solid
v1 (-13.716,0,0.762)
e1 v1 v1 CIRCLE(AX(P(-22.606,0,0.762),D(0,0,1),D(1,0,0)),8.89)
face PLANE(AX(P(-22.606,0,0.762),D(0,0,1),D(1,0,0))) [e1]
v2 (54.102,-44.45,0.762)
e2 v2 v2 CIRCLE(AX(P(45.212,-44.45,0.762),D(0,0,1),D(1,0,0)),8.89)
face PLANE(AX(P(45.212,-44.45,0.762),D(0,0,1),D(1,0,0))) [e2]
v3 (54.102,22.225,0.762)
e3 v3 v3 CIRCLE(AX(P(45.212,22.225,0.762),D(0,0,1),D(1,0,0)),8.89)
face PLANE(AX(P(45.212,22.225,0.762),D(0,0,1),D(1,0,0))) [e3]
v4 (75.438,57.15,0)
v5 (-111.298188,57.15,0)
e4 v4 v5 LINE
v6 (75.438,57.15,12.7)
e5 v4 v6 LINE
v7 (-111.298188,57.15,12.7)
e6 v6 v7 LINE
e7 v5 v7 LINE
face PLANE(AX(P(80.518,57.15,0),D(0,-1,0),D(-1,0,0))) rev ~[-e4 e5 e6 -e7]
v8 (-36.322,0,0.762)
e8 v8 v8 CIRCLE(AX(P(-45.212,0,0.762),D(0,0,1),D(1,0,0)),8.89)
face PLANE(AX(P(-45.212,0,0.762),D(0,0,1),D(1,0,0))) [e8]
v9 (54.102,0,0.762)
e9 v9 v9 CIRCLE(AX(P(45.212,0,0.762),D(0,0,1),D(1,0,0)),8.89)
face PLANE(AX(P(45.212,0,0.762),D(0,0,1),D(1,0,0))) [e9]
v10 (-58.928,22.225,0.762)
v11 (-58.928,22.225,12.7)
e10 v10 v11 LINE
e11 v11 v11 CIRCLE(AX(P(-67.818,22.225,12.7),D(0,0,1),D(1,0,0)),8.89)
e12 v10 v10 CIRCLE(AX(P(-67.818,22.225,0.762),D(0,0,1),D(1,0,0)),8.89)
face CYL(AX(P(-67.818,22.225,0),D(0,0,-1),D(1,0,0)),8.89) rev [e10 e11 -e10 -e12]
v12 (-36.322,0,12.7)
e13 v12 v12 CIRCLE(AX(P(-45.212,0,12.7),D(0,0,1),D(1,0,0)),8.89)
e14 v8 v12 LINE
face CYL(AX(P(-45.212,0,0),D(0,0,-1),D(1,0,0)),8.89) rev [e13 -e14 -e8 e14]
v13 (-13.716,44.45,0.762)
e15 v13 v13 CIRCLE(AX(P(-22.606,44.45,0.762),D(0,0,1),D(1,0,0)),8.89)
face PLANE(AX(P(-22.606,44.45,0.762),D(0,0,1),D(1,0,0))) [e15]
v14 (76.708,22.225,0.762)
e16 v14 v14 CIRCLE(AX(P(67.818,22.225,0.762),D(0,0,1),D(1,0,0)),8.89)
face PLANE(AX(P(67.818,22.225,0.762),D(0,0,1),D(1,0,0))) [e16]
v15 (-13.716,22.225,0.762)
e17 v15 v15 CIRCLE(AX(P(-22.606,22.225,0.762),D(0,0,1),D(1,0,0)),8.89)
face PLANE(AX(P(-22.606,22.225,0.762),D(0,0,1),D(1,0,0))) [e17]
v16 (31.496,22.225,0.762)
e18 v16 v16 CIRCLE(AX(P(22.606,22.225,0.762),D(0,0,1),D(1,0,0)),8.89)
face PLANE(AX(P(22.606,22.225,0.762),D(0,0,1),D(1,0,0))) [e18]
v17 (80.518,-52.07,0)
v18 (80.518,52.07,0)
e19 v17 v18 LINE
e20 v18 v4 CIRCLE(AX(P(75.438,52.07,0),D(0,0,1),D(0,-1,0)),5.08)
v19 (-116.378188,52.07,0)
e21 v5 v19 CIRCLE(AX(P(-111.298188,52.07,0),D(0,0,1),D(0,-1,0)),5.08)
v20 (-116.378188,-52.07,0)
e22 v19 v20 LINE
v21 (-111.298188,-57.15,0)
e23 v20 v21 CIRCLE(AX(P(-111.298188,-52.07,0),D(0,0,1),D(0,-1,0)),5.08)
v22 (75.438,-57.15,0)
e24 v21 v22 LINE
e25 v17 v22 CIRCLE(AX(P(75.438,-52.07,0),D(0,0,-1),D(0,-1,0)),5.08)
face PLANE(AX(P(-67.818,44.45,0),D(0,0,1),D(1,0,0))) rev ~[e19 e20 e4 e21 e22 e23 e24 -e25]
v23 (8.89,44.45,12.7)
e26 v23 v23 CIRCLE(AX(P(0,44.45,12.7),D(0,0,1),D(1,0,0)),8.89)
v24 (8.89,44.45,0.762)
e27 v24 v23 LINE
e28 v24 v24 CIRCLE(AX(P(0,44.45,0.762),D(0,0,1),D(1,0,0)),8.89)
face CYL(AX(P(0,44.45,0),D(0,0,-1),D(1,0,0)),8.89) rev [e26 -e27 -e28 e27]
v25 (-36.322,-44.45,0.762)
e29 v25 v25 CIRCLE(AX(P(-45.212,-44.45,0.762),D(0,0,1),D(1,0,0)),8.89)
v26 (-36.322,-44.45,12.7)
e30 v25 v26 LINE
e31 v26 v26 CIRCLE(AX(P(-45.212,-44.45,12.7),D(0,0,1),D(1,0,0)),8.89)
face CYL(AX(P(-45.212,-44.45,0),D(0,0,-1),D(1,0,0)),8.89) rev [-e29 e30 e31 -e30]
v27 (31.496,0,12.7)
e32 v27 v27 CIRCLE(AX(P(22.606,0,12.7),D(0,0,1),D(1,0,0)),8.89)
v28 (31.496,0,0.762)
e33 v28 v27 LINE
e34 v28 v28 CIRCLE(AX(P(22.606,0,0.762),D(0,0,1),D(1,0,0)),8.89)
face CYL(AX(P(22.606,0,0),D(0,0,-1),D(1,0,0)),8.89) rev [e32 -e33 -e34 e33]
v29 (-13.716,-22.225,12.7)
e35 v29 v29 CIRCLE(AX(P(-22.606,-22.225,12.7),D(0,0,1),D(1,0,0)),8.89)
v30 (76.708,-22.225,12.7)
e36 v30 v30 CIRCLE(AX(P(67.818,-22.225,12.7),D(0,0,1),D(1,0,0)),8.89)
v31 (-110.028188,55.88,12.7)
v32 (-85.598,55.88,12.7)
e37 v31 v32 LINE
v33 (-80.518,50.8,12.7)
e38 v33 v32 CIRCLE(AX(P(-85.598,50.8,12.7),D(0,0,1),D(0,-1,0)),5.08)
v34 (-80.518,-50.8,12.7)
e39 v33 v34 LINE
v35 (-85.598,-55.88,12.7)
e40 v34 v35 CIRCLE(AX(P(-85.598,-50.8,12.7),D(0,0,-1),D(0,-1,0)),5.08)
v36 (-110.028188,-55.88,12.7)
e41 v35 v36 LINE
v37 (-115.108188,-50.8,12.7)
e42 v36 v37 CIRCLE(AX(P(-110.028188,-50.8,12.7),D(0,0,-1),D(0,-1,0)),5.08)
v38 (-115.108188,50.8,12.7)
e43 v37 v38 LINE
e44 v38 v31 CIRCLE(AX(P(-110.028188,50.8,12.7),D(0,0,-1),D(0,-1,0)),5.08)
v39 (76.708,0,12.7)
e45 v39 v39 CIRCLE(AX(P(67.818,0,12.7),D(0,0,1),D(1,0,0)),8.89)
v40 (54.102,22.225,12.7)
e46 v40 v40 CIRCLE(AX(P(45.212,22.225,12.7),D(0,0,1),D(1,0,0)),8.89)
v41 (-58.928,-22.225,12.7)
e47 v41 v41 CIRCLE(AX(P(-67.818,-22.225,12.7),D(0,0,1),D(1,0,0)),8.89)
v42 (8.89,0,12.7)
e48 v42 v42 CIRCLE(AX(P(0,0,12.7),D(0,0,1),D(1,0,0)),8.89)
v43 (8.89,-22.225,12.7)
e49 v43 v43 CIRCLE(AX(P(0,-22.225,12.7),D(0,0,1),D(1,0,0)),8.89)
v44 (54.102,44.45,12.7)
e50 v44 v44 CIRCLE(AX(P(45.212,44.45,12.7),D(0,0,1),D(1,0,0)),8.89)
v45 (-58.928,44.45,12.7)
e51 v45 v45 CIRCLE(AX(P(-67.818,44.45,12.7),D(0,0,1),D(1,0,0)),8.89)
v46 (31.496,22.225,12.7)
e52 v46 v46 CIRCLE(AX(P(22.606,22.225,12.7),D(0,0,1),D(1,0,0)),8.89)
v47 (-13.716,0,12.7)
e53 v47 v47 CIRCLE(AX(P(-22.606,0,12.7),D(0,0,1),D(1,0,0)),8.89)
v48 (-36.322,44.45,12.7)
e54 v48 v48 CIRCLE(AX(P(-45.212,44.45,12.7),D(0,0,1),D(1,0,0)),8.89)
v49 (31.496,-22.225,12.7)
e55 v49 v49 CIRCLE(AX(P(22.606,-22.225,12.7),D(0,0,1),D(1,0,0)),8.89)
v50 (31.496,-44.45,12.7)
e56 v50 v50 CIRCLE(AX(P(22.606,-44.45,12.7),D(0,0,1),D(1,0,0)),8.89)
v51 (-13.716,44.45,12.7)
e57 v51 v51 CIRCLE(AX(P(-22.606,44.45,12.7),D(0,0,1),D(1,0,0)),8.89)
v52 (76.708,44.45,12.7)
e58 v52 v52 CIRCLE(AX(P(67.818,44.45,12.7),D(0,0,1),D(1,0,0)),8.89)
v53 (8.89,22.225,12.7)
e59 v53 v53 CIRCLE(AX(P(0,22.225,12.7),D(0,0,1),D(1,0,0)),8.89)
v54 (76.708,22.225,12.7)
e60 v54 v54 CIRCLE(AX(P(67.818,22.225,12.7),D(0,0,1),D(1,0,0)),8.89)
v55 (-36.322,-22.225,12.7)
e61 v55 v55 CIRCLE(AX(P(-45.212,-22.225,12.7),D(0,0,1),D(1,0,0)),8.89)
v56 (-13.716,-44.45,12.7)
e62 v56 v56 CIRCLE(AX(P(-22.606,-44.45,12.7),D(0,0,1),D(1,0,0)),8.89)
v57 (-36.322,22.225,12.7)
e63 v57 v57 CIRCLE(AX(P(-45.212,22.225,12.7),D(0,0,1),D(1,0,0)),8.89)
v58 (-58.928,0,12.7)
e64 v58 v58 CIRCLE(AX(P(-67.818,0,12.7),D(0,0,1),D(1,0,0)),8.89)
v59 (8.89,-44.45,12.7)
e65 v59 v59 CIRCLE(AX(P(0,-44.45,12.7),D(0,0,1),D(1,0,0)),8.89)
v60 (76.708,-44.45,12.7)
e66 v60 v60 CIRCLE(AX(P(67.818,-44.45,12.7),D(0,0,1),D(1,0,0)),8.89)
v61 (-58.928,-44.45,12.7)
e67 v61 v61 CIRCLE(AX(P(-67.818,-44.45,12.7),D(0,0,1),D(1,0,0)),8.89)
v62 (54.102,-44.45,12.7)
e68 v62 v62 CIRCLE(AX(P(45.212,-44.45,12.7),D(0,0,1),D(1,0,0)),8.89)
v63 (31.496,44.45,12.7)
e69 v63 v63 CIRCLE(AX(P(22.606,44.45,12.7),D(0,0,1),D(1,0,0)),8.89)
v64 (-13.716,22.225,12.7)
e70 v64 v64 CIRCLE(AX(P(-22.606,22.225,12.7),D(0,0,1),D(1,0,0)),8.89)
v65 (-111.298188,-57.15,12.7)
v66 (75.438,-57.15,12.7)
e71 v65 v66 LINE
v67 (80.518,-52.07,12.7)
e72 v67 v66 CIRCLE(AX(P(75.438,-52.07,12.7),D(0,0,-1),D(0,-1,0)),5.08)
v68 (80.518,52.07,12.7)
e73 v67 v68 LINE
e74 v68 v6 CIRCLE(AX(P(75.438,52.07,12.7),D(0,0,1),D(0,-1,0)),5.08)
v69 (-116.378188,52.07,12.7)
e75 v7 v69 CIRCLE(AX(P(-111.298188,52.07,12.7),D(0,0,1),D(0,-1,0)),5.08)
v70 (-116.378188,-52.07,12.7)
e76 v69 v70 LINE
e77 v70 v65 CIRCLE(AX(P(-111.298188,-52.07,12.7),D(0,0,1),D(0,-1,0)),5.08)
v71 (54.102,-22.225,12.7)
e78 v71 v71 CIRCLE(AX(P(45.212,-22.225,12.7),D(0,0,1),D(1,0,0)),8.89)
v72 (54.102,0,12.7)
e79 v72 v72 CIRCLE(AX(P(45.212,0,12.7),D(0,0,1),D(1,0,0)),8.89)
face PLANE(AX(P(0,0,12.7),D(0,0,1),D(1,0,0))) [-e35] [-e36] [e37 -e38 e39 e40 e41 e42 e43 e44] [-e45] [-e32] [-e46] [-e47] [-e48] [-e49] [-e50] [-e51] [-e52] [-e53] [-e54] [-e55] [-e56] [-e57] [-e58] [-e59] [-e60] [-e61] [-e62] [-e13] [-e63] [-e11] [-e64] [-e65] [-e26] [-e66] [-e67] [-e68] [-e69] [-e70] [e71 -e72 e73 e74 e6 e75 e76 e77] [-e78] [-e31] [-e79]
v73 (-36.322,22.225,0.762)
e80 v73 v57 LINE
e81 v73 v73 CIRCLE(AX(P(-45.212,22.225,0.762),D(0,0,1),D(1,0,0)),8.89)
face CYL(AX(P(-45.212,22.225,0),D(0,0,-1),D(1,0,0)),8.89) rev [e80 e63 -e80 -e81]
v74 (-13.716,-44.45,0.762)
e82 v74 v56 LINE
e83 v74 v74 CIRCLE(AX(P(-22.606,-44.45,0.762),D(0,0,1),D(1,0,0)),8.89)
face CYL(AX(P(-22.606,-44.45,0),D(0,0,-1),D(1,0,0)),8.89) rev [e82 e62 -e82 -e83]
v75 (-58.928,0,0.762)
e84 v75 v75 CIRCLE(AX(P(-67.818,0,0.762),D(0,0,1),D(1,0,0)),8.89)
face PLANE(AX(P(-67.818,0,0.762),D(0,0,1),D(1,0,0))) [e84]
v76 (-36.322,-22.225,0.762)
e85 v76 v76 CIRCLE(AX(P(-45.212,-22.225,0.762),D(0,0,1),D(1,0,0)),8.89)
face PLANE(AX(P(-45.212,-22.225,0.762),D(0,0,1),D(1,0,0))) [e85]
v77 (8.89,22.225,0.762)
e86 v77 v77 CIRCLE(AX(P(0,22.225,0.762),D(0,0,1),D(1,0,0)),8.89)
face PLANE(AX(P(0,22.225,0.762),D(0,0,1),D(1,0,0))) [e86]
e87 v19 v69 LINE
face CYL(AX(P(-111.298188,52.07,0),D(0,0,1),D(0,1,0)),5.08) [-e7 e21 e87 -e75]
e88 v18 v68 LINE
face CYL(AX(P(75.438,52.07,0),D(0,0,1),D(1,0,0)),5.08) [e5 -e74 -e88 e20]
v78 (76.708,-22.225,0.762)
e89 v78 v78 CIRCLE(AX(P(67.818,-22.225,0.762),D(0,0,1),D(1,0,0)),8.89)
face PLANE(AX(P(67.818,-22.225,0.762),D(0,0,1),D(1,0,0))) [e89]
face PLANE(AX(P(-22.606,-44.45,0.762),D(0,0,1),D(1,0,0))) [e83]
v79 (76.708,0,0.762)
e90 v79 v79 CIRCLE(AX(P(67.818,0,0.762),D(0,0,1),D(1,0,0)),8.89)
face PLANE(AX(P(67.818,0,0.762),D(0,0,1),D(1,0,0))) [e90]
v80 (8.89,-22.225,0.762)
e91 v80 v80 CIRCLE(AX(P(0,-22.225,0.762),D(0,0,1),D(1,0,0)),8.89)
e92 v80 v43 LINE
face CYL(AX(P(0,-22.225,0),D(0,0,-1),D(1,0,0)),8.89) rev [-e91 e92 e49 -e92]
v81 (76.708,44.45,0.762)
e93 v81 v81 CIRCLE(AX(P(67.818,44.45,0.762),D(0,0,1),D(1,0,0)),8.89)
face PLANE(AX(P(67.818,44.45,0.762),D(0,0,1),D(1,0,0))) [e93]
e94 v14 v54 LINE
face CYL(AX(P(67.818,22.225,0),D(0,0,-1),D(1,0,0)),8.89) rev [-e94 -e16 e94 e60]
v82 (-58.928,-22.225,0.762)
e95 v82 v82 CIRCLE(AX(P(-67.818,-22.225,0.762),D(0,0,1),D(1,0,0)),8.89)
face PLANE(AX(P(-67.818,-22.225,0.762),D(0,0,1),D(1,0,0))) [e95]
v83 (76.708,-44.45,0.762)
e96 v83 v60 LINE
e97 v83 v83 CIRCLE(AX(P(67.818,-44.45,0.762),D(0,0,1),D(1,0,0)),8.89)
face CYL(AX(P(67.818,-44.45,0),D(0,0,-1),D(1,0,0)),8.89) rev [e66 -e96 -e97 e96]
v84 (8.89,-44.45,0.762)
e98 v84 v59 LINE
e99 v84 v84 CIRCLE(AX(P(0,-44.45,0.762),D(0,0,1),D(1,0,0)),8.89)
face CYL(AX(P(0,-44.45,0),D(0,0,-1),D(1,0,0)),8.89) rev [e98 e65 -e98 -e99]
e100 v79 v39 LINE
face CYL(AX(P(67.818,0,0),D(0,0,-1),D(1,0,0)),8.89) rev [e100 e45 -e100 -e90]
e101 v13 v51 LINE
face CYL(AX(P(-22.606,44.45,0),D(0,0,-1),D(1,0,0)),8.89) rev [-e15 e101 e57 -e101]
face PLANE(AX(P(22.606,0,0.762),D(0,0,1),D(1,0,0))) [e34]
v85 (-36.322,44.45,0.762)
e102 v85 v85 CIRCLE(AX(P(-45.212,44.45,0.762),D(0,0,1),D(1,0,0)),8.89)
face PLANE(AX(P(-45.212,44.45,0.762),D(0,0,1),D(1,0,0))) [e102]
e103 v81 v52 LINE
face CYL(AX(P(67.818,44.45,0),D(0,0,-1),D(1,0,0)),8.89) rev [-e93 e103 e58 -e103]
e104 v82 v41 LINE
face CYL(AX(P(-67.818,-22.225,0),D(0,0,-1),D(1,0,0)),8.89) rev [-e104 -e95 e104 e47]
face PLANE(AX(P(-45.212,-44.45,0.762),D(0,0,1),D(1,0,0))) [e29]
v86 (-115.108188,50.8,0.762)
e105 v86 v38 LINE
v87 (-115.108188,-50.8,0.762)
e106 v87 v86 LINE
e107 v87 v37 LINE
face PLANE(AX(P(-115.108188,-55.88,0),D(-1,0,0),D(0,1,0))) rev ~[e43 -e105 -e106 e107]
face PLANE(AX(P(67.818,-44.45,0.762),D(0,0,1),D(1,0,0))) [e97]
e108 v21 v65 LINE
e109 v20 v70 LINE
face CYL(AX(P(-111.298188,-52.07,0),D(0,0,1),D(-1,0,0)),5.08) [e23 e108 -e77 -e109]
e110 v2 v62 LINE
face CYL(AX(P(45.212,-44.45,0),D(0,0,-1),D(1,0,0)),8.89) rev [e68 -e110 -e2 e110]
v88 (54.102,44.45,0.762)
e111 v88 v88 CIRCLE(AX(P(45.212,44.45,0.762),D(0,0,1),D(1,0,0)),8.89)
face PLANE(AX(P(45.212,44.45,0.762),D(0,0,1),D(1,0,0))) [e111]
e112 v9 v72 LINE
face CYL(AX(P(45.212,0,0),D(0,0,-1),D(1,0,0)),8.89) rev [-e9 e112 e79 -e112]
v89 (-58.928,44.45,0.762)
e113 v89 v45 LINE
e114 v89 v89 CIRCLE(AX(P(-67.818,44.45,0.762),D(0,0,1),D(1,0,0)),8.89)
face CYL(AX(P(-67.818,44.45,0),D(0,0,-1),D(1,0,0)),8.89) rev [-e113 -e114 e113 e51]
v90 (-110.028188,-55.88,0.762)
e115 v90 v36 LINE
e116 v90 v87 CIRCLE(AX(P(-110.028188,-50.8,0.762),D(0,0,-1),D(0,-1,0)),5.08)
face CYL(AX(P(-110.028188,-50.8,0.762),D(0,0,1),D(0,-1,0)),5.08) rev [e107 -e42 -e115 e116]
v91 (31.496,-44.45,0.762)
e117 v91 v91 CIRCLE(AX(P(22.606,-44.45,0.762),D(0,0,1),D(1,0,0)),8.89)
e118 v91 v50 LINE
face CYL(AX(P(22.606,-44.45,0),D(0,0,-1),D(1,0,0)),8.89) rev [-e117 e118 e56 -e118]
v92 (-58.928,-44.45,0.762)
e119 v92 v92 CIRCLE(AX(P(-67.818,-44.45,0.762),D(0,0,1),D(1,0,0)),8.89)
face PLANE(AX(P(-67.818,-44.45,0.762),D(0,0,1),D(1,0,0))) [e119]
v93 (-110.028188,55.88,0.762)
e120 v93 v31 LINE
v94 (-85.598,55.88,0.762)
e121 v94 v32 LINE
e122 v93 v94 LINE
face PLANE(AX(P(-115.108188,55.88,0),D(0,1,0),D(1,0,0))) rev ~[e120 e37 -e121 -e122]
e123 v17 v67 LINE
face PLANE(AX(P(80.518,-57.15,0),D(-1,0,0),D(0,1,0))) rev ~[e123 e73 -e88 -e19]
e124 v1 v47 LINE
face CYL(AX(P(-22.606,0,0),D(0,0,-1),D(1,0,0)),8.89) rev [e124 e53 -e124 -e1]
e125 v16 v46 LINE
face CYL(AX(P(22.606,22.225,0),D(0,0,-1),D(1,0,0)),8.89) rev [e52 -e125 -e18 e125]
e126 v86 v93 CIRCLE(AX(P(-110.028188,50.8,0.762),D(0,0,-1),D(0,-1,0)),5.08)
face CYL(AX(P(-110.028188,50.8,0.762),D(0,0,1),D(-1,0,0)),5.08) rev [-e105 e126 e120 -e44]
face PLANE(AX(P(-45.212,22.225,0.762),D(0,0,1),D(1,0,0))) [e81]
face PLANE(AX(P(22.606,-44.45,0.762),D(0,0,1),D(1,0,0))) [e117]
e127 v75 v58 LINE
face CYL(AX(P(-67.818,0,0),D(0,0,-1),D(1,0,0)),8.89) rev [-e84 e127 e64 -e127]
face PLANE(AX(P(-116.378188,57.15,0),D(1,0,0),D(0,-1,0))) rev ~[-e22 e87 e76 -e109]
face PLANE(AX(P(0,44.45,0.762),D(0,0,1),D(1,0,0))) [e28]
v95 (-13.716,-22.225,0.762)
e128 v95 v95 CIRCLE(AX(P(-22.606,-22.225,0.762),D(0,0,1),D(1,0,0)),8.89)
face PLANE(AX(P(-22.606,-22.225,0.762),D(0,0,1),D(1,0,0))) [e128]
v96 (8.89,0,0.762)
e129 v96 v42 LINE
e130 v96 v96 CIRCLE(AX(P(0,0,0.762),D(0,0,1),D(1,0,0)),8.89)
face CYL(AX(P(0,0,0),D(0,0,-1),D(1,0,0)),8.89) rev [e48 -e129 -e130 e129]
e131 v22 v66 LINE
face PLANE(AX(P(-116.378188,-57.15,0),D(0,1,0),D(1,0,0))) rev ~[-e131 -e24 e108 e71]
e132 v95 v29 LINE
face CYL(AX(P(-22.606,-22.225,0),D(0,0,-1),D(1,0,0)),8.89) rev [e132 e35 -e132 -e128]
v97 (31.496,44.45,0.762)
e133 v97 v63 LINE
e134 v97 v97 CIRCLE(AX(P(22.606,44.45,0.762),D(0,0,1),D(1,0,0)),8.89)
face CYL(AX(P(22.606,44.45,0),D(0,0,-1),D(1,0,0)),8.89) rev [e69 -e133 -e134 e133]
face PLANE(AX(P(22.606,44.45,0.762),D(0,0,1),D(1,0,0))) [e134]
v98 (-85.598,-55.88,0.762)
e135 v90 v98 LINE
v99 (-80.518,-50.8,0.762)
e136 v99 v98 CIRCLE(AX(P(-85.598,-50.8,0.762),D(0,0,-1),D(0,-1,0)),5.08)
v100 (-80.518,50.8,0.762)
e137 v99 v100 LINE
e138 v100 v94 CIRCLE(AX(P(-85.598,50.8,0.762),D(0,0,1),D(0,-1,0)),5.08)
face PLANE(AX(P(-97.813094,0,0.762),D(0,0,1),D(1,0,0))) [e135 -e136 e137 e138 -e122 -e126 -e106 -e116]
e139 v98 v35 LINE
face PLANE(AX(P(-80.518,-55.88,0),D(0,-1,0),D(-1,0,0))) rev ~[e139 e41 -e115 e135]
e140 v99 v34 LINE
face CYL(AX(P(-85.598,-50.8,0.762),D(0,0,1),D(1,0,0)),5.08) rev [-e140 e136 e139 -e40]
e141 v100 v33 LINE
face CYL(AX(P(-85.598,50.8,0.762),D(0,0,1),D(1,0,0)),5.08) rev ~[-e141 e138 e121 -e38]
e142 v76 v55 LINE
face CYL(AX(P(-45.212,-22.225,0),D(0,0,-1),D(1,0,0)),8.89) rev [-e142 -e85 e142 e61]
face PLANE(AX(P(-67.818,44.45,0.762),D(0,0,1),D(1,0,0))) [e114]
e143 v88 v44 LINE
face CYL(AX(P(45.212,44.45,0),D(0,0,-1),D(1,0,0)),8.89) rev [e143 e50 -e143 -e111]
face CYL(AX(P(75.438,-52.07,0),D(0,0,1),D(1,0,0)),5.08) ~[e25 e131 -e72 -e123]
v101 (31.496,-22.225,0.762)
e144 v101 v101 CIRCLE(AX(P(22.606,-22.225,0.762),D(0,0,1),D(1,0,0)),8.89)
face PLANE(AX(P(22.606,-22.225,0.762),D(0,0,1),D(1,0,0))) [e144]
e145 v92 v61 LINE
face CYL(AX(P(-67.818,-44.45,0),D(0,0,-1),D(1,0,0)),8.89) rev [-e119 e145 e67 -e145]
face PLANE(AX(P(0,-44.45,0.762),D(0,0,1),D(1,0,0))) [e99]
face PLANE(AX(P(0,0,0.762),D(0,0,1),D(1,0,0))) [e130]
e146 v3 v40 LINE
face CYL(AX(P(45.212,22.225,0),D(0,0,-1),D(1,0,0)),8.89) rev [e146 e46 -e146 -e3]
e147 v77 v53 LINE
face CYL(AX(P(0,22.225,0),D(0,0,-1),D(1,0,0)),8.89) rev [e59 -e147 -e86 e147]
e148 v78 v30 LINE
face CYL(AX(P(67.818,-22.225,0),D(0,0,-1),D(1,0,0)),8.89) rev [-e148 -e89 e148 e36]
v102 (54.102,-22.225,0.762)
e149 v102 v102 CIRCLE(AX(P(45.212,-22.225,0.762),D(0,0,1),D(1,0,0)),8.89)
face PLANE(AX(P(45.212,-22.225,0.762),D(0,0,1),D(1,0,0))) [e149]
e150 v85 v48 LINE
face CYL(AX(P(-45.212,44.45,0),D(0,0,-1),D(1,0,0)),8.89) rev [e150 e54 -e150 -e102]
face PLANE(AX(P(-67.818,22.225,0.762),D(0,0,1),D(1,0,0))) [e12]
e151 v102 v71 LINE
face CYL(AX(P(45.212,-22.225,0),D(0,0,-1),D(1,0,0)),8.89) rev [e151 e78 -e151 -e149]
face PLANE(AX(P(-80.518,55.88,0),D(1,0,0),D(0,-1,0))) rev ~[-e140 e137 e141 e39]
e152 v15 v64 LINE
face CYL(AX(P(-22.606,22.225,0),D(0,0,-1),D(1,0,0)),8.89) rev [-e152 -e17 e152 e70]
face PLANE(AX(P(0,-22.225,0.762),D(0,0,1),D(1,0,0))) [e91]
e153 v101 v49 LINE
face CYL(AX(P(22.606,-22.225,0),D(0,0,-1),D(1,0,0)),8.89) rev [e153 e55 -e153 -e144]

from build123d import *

# Parameters (mm, degrees)
F0_R     = 8.89
F1_DEPTH = 12.7
F0_W     = 34.590188
F0_H     = 111.76
F2_DEPTH = 0.762
F3_R     = 5.08


with BuildPart() as f1:
    # F0 (on Top) → F1 (new body)
    with BuildSketch(Plane.XY):
        Polygon((80.518, -57.15), (80.518, 57.15), (-80.518, 57.15), (-80.518, 55.88), (-80.518, -55.88), (-80.518, -57.15), align=None)
        with Locations((-67.818, -44.45)):
            Circle(F0_R, mode=Mode.SUBTRACT)
        with Locations((-45.212, -44.45)):
            Circle(F0_R, mode=Mode.SUBTRACT)
        with Locations((-22.606, -44.45)):
            Circle(F0_R, mode=Mode.SUBTRACT)
        with Locations((-67.818, -22.225)):
            Circle(F0_R, mode=Mode.SUBTRACT)
        with Locations((-45.212, -22.225)):
            Circle(F0_R, mode=Mode.SUBTRACT)
        with Locations((-22.606, -22.225)):
            Circle(F0_R, mode=Mode.SUBTRACT)
        with Locations((0, -44.45)):
            Circle(F0_R, mode=Mode.SUBTRACT)
        with Locations((22.606, -44.45)):
            Circle(F0_R, mode=Mode.SUBTRACT)
        with Locations((45.212, -44.45)):
            Circle(F0_R, mode=Mode.SUBTRACT)
        with Locations((67.818, -44.45)):
            Circle(F0_R, mode=Mode.SUBTRACT)
        with Locations((0, -22.225)):
            Circle(F0_R, mode=Mode.SUBTRACT)
        with Locations((22.606, -22.225)):
            Circle(F0_R, mode=Mode.SUBTRACT)
        with Locations((45.212, -22.225)):
            Circle(F0_R, mode=Mode.SUBTRACT)
        with Locations((67.818, -22.225)):
            Circle(F0_R, mode=Mode.SUBTRACT)
        with Locations((-67.818, 0)):
            Circle(F0_R, mode=Mode.SUBTRACT)
        with Locations((-67.818, 22.225)):
            Circle(F0_R, mode=Mode.SUBTRACT)
        with Locations((-45.212, 0)):
            Circle(F0_R, mode=Mode.SUBTRACT)
        with Locations((-22.606, 0)):
            Circle(F0_R, mode=Mode.SUBTRACT)
        with Locations((-45.212, 22.225)):
            Circle(F0_R, mode=Mode.SUBTRACT)
        with Locations((-22.606, 22.225)):
            Circle(F0_R, mode=Mode.SUBTRACT)
        with Locations((-67.818, 44.45)):
            Circle(F0_R, mode=Mode.SUBTRACT)
        with Locations((-45.212, 44.45)):
            Circle(F0_R, mode=Mode.SUBTRACT)
        with Locations((-22.606, 44.45)):
            Circle(F0_R, mode=Mode.SUBTRACT)
        Circle(F0_R, mode=Mode.SUBTRACT)
        with Locations((22.606, 0)):
            Circle(F0_R, mode=Mode.SUBTRACT)
        with Locations((0, 22.225)):
            Circle(F0_R, mode=Mode.SUBTRACT)
        with Locations((22.606, 22.225)):
            Circle(F0_R, mode=Mode.SUBTRACT)
        with Locations((45.212, 0)):
            Circle(F0_R, mode=Mode.SUBTRACT)
        with Locations((67.818, 0)):
            Circle(F0_R, mode=Mode.SUBTRACT)
        with Locations((45.212, 22.225)):
            Circle(F0_R, mode=Mode.SUBTRACT)
        with Locations((67.818, 22.225)):
            Circle(F0_R, mode=Mode.SUBTRACT)
        with Locations((0, 44.45)):
            Circle(F0_R, mode=Mode.SUBTRACT)
        with Locations((22.606, 44.45)):
            Circle(F0_R, mode=Mode.SUBTRACT)
        with Locations((45.212, 44.45)):
            Circle(F0_R, mode=Mode.SUBTRACT)
        with Locations((67.818, 44.45)):
            Circle(F0_R, mode=Mode.SUBTRACT)
        Polygon((-80.518, 55.88), (-80.518, 57.15), (-116.378188, 57.15), (-116.378188, -57.15), (-80.518, -57.15), (-80.518, -55.88), (-115.108188, -55.88), (-115.108188, 55.88), align=None)
    extrude(amount=F1_DEPTH)

    # F0 (on Top) → F2 (join)
    with BuildSketch(Plane.XY):
        with Locations((-67.818, 44.45)):
            Circle(F0_R)
        with Locations((-45.212, 44.45)):
            Circle(F0_R)
        with Locations((-22.606, 44.45)):
            Circle(F0_R)
        with Locations((0, 44.45)):
            Circle(F0_R)
        with Locations((22.606, 44.45)):
            Circle(F0_R)
        with Locations((45.212, 44.45)):
            Circle(F0_R)
        with Locations((67.818, 44.45)):
            Circle(F0_R)
        with Locations((67.818, 22.225)):
            Circle(F0_R)
        with Locations((45.212, 22.225)):
            Circle(F0_R)
        with Locations((22.606, 22.225)):
            Circle(F0_R)
        with Locations((0, 22.225)):
            Circle(F0_R)
        with Locations((-22.606, 22.225)):
            Circle(F0_R)
        with Locations((-45.212, 22.225)):
            Circle(F0_R)
        with Locations((-67.818, 22.225)):
            Circle(F0_R)
        with Locations((-67.818, 0)):
            Circle(F0_R)
        with Locations((-45.212, 0)):
            Circle(F0_R)
        with Locations((-22.606, 0)):
            Circle(F0_R)
        Circle(F0_R)
        with Locations((22.606, 0)):
            Circle(F0_R)
        with Locations((45.212, 0)):
            Circle(F0_R)
        with Locations((67.818, 0)):
            Circle(F0_R)
        with Locations((67.818, -22.225)):
            Circle(F0_R)
        with Locations((45.212, -22.225)):
            Circle(F0_R)
        with Locations((22.606, -22.225)):
            Circle(F0_R)
        with Locations((0, -22.225)):
            Circle(F0_R)
        with Locations((-22.606, -22.225)):
            Circle(F0_R)
        with Locations((-45.212, -22.225)):
            Circle(F0_R)
        with Locations((-67.818, -22.225)):
            Circle(F0_R)
        with Locations((-67.818, -44.45)):
            Circle(F0_R)
        with Locations((-45.212, -44.45)):
            Circle(F0_R)
        with Locations((-22.606, -44.45)):
            Circle(F0_R)
        with Locations((0, -44.45)):
            Circle(F0_R)
        with Locations((22.606, -44.45)):
            Circle(F0_R)
        with Locations((45.212, -44.45)):
            Circle(F0_R)
        with Locations((67.818, -44.45)):
            Circle(F0_R)
        with Locations((-97.813094, 0)):
            Rectangle(F0_W, F0_H)
    extrude(amount=F2_DEPTH)

    # F3
    f3_edges = [f1.edges().sort_by_distance(p)[0] for p in [
        (80.518, 57.15, 6.35),
        (80.518, -57.15, 6.35),
        (-80.518, -55.88, 6.731),
        (-80.518, 55.88, 6.731),
        (-115.108188, 55.88, 6.731),
        (-115.108188, -55.88, 6.731),
        (-116.378188, -57.15, 6.35),
        (-116.378188, 57.15, 6.35),
    ]]
    fillet(f3_edges, radius=F3_R)


solid = f1.part
